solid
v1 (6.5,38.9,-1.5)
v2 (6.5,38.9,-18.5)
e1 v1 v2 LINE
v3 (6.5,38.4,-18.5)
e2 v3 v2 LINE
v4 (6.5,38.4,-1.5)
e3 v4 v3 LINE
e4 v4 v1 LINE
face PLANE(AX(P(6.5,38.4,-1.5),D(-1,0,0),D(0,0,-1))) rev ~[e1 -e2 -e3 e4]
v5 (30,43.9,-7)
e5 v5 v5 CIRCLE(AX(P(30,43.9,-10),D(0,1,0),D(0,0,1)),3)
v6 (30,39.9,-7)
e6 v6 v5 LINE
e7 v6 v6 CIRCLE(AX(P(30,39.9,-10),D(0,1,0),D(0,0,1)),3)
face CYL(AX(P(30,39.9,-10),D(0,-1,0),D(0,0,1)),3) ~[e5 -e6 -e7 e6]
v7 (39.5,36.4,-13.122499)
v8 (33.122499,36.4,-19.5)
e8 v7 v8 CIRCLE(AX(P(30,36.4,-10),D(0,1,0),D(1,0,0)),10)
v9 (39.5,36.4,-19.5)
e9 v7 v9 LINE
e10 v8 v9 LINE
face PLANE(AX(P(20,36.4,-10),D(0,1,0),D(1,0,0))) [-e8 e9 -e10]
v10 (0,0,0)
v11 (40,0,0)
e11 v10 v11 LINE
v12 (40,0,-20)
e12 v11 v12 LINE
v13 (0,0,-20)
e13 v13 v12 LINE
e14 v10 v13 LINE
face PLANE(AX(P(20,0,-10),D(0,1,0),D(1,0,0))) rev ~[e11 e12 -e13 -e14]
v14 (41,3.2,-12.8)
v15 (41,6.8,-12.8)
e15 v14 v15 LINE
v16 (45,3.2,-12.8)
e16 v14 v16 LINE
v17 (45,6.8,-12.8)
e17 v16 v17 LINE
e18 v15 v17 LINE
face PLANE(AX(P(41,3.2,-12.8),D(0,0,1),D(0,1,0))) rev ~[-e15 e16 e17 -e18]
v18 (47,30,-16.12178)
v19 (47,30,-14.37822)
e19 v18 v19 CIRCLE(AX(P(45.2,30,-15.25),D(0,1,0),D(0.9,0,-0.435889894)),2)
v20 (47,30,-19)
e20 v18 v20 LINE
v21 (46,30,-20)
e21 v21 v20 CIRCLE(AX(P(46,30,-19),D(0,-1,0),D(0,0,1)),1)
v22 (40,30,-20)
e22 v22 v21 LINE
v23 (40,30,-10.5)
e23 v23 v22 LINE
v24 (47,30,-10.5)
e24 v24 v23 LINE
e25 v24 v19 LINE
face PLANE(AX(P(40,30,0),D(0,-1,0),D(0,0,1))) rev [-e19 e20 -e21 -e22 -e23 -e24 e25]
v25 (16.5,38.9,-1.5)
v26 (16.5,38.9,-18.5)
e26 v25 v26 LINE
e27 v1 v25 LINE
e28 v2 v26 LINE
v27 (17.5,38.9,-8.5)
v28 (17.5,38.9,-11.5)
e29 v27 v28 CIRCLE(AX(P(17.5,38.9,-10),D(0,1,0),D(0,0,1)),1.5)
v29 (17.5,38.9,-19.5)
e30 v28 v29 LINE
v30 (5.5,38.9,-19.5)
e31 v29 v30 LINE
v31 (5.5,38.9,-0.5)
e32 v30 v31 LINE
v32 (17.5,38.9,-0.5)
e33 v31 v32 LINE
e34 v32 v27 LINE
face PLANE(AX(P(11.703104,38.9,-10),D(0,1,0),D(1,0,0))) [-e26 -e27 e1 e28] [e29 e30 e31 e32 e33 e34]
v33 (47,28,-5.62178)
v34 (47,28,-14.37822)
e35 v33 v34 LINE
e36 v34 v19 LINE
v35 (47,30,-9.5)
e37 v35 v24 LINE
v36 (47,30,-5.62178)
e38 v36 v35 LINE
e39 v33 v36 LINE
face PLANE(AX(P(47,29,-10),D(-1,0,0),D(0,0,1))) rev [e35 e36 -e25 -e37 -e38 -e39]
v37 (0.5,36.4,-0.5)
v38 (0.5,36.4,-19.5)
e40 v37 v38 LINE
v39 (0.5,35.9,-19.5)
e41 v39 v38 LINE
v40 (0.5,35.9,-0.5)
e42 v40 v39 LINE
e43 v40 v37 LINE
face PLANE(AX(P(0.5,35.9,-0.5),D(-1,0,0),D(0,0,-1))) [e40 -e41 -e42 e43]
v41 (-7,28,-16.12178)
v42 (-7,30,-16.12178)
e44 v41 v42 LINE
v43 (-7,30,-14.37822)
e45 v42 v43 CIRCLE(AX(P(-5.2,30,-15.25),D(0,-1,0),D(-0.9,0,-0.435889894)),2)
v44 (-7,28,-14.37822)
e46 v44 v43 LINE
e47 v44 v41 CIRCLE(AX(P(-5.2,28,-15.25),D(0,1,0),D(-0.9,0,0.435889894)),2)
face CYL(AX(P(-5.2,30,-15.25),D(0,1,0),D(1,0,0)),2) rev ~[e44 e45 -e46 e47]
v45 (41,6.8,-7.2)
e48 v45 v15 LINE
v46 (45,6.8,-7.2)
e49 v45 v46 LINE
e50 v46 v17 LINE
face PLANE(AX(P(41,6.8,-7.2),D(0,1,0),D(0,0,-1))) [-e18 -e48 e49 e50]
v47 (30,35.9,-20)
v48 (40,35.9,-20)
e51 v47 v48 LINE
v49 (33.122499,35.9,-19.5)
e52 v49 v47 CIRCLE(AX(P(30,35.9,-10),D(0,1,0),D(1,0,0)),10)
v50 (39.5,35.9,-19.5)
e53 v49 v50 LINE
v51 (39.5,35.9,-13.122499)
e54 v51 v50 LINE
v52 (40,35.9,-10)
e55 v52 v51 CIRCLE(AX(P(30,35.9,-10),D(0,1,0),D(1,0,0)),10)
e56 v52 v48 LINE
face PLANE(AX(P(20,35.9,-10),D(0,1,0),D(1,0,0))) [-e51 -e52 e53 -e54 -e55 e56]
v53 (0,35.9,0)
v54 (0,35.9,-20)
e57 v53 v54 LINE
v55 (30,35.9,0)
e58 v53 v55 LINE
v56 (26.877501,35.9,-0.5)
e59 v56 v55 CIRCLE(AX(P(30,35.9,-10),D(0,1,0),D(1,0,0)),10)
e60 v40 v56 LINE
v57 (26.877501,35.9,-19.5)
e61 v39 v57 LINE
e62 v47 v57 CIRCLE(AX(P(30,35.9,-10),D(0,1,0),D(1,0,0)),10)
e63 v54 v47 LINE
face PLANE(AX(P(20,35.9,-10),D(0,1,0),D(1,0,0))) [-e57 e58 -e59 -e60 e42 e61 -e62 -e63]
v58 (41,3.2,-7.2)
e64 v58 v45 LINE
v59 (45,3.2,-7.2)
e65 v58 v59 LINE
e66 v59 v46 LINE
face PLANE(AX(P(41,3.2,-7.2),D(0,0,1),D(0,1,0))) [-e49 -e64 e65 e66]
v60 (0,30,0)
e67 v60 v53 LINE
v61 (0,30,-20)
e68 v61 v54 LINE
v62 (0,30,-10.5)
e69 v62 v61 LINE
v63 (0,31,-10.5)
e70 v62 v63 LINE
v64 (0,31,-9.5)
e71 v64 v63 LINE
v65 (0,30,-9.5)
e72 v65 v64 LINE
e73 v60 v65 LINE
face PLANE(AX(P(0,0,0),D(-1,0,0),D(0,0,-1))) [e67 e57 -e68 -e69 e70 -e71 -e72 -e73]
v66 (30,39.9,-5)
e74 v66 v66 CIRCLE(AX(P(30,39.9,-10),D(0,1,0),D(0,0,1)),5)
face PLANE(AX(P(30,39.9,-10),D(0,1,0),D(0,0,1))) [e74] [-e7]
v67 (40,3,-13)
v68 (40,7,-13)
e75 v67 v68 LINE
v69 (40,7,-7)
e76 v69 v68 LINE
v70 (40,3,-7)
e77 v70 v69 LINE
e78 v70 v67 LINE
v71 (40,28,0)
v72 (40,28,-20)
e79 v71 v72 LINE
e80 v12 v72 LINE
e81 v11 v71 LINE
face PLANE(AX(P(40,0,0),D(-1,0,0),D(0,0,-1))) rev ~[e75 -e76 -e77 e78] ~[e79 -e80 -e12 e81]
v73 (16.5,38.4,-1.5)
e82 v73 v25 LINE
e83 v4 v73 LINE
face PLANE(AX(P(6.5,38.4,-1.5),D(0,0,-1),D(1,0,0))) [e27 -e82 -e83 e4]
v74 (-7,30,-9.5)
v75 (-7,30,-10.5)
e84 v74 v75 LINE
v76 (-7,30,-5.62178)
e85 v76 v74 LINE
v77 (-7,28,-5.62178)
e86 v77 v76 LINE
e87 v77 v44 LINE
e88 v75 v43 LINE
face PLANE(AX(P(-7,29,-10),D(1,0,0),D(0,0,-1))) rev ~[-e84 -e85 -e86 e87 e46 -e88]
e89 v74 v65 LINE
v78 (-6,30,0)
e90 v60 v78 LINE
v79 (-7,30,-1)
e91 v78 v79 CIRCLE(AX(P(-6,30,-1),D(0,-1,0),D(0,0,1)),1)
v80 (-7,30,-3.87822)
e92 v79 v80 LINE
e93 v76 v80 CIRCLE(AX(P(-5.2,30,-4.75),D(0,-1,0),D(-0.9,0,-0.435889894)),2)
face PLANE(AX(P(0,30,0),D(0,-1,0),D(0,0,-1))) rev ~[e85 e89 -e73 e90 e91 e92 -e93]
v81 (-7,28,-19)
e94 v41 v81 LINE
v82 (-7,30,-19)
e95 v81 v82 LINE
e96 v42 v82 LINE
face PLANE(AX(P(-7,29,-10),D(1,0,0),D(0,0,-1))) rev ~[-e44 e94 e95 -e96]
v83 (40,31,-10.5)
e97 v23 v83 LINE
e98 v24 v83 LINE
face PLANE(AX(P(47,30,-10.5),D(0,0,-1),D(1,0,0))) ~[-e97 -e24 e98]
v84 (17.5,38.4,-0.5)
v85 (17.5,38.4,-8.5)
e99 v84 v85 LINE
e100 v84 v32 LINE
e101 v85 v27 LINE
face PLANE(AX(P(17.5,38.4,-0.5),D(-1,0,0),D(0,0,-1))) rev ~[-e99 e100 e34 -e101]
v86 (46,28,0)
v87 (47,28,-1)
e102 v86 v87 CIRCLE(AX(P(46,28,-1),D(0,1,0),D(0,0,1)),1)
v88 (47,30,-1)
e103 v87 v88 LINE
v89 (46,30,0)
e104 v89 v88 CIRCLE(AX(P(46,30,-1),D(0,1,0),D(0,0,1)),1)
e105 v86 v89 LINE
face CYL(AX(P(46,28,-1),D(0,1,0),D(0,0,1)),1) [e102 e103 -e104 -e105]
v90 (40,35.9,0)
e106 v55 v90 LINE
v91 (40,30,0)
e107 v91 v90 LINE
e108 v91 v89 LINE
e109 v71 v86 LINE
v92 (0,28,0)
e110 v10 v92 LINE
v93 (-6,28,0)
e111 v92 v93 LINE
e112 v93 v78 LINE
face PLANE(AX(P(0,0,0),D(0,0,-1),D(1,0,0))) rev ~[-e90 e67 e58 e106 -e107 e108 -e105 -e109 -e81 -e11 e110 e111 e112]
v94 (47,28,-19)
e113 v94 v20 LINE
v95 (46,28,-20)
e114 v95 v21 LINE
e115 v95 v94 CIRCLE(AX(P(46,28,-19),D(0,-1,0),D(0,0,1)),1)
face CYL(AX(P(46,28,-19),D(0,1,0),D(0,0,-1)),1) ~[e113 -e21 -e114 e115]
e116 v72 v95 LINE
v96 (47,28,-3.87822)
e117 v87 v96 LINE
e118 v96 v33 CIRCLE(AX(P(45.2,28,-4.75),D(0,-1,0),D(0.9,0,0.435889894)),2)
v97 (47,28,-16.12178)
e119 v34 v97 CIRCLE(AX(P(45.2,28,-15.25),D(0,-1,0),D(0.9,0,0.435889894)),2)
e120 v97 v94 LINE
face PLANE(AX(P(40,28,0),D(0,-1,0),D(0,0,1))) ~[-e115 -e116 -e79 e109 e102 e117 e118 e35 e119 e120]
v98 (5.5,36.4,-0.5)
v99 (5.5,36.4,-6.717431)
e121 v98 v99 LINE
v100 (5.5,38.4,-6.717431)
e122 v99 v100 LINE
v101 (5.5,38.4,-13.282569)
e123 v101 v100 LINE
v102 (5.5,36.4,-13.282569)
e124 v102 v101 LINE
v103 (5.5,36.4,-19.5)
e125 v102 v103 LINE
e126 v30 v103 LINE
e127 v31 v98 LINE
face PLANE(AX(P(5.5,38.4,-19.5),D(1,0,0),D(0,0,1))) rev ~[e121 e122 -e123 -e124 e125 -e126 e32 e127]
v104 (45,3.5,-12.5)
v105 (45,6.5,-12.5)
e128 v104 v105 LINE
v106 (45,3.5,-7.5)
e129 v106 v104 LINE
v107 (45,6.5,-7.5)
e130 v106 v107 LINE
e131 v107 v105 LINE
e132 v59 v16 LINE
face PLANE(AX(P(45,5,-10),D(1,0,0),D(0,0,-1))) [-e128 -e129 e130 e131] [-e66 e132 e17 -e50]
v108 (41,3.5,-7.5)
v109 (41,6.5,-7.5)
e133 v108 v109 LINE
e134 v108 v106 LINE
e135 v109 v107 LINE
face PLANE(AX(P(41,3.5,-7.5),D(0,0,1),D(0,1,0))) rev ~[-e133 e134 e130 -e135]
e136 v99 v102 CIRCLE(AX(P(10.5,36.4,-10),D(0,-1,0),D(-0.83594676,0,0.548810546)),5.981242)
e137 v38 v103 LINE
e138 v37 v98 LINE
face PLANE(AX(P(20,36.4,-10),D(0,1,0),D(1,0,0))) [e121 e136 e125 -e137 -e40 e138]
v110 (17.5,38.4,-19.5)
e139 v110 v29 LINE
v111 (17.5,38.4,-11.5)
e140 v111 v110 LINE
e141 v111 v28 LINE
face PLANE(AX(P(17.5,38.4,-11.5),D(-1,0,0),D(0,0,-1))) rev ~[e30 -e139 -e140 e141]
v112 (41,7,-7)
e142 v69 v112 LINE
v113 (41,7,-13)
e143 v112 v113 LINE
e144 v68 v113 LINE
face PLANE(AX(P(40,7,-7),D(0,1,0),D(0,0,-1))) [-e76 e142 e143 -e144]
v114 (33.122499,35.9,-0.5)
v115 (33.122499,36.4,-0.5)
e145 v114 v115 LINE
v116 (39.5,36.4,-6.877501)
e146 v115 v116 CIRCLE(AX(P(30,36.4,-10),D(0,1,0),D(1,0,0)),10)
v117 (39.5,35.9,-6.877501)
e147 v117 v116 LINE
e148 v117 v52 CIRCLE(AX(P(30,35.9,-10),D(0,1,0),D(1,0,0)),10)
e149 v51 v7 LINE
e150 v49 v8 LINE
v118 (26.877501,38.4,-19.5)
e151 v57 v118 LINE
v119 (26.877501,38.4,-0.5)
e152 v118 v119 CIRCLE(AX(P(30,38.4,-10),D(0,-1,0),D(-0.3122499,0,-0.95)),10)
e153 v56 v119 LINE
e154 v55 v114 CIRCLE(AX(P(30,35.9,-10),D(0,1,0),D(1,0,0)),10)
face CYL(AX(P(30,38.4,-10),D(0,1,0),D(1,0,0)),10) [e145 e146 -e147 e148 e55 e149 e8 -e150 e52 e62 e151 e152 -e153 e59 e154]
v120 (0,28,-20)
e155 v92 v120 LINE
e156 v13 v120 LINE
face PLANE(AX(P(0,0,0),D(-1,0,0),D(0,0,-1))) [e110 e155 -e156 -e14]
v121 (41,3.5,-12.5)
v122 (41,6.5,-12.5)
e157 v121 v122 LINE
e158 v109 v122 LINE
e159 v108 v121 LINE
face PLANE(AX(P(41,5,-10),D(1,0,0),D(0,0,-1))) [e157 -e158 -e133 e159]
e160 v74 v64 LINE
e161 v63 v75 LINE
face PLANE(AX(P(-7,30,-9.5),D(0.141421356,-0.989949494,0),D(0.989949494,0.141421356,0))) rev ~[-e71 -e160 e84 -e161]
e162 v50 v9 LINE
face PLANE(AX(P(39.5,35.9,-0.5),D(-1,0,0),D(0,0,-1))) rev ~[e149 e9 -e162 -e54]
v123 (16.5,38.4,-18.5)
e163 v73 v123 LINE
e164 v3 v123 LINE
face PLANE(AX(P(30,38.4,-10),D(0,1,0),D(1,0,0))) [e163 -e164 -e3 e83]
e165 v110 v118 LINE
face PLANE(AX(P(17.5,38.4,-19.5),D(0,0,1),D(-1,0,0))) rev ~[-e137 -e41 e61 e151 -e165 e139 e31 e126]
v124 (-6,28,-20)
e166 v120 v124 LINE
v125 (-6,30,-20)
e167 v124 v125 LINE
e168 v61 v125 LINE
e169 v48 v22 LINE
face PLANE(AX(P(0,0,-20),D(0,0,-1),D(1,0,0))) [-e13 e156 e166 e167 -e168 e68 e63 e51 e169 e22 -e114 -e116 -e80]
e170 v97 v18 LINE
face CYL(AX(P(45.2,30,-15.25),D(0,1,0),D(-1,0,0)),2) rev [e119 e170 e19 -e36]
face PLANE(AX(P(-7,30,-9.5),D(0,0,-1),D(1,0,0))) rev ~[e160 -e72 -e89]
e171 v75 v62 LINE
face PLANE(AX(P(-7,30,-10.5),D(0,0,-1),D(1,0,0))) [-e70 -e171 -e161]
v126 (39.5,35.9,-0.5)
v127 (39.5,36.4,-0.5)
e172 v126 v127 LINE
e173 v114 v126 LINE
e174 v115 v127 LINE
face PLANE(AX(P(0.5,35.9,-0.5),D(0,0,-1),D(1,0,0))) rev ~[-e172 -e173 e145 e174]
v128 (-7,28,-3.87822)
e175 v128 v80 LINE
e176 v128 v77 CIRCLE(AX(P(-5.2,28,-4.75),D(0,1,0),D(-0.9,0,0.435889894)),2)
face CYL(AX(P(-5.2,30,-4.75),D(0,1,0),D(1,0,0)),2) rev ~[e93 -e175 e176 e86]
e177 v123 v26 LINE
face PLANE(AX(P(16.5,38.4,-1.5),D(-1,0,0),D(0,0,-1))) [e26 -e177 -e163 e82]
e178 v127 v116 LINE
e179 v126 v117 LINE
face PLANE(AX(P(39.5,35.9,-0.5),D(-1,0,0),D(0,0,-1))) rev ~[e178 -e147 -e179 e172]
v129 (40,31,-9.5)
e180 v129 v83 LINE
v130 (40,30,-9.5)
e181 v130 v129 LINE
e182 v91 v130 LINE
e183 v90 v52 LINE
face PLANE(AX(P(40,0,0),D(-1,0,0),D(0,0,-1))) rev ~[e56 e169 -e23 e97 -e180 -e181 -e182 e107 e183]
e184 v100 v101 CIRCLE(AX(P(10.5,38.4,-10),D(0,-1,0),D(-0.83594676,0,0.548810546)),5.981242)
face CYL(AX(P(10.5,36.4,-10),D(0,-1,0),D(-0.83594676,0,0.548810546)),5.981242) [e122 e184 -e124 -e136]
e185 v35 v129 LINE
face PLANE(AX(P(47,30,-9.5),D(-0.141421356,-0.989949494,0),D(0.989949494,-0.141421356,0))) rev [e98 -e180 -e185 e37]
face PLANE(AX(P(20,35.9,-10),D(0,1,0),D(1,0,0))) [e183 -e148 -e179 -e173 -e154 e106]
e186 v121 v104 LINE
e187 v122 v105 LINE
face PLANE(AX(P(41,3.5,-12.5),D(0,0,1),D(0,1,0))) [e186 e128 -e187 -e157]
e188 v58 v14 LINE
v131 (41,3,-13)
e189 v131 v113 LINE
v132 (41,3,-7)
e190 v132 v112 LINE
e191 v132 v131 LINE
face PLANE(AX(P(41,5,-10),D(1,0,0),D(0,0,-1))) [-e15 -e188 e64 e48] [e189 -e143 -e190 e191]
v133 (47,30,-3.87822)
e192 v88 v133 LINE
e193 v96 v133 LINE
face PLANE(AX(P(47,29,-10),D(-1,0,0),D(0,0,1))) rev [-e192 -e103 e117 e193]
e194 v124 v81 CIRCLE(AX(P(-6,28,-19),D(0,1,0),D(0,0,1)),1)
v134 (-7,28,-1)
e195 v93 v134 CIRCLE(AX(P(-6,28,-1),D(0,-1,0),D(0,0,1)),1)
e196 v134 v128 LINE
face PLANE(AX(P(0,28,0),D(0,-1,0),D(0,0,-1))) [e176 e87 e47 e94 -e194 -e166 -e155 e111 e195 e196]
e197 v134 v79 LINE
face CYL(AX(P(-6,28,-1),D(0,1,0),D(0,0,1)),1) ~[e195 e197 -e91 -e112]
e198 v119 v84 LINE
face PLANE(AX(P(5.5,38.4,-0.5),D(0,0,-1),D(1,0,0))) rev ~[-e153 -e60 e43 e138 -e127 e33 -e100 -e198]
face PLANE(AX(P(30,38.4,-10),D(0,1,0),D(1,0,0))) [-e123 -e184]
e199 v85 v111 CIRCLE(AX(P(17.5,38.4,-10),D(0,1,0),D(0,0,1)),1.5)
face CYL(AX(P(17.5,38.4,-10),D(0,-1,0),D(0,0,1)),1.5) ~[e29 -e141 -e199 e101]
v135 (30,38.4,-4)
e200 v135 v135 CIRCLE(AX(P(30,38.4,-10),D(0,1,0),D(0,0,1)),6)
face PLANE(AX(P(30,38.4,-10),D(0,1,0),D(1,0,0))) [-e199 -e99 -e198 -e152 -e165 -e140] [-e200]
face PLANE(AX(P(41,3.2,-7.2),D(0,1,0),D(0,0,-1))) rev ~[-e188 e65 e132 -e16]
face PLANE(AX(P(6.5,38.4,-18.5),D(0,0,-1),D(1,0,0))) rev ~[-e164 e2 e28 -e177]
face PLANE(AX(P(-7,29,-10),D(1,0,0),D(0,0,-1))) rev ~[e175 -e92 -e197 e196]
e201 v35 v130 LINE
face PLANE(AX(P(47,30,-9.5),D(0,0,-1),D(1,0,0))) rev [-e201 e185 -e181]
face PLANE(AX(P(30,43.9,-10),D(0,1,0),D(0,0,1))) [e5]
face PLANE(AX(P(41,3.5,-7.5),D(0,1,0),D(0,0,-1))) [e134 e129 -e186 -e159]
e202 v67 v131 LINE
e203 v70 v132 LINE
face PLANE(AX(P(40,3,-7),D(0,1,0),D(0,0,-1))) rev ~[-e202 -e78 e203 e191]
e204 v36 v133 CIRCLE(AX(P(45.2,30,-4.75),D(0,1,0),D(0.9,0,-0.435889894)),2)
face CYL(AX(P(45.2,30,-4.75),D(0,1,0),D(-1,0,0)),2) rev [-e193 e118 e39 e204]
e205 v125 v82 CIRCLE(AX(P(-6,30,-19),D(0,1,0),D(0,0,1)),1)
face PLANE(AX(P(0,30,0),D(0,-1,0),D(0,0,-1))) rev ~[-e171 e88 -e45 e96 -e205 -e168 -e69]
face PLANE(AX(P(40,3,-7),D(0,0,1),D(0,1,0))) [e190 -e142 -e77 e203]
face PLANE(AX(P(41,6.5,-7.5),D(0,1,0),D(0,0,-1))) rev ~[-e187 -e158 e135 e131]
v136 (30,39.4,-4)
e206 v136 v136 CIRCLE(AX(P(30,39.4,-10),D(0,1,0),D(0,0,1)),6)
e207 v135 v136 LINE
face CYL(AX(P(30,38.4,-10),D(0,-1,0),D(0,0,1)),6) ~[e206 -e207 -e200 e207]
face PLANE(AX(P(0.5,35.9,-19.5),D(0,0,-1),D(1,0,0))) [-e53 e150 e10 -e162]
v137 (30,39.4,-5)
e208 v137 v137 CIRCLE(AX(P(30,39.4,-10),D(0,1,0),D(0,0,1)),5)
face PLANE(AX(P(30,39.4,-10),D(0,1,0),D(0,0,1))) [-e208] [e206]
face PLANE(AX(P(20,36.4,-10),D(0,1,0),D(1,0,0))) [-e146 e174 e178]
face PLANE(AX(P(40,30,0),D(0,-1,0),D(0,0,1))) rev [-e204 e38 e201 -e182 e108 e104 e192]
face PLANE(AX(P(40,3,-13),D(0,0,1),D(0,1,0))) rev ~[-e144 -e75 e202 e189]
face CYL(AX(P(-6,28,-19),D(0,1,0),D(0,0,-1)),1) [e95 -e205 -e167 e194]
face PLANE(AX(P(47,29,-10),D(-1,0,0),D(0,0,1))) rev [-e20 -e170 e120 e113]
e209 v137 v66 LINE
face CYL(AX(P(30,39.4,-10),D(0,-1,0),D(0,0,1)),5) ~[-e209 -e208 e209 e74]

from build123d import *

# Parameters (mm, degrees)
SKETCH1_W            = 40
SKETCH1_H            = 20
BOSS_EXTRUDE1_DEPTH  = 35.9
SKETCH2_W            = 20
SKETCH2_H            = 2
BOSS_EXTRUDE2_DEPTH  = 7
SKETCH3_W            = 7
SKETCH3_H            = 1
BOSS_EXTRUDE3_DEPTH  = 1
CUT_EXTRUDE1_REACH   = 55.852
SKETCH4_R            = 2
FILLET1_R            = 1
CUT_EXTRUDE2_DEPTH   = 11
FILLET1_OF_MIRROR1_R = 1
SKETCH6_W            = 39
SKETCH6_H            = 19
BOSS_EXTRUDE4_DEPTH  = 0.5
BOSS_EXTRUDE5_DEPTH  = 2
SKETCH8_R            = 10
BOSS_EXTRUDE6_DEPTH  = 2.5
SKETCH9_R            = 6
BOSS_EXTRUDE7_DEPTH  = 1
SKETCH10_R           = 5
BOSS_EXTRUDE8_DEPTH  = 0.5
SKETCH11_W           = 10
SKETCH11_H           = 17
BOSS_EXTRUDE9_DEPTH  = 0.5
SKETCH12_R           = 3
BOSS_EXTRUDE10_DEPTH = 4
SKETCH13_W           = 6
SKETCH13_H           = 4
BOSS_EXTRUDE11_DEPTH = 1
SKETCH14_W           = 5.6
SKETCH14_H           = 3.6
SKETCH14_W_2         = 5
SKETCH14_H_2         = 3
BOSS_EXTRUDE12_DEPTH = 4


with BuildPart() as part:
    # Sketch1 → Boss-Extrude1 (new body)
    with BuildSketch(Plane(origin=(0, 0, 0), x_dir=(1, 0, 0), z_dir=(0, 1, 0))):
        with Locations((20, 10)):
            Rectangle(SKETCH1_W, SKETCH1_H)
    extrude(amount=BOSS_EXTRUDE1_DEPTH)

    # Sketch2 → Boss-Extrude2 (add)
    with BuildSketch(Plane(origin=(0, 0, 0), x_dir=(0, 0, -1), z_dir=(1, 0, 0))):
        with Locations((10, 29)):
            Rectangle(SKETCH2_W, SKETCH2_H)
    boss_extrude2 = extrude(amount=-BOSS_EXTRUDE2_DEPTH)

    # Sketch3 → Boss-Extrude3 (add)
    with BuildSketch(Plane(origin=(0, 30, 0), x_dir=(1, 0, 0), z_dir=(0, 1, 0))):
        with Locations((-3.5, 10)):
            Rectangle(SKETCH3_W, SKETCH3_H)
    boss_extrude3 = extrude(amount=BOSS_EXTRUDE3_DEPTH)

    # Sketch4 → Cut-Extrude1 (cut, up to next)
    with BuildSketch(Plane(origin=(0, 30, 0), x_dir=(1, 0, 0), z_dir=(0, 1, 0)), mode=Mode.PRIVATE) as cut_extrude1_sk1:
        with Locations((-5.2, 15.25)):
            Circle(SKETCH4_R)
    cut_extrude1_tool1 = extrude(cut_extrude1_sk1.sketch, amount=-CUT_EXTRUDE1_REACH, mode=Mode.PRIVATE) & part.part
    # Sketch4 → Cut-Extrude1 (cut, up to next)
    with BuildSketch(Plane(origin=(0, 30, 0), x_dir=(1, 0, 0), z_dir=(0, 1, 0)), mode=Mode.PRIVATE) as cut_extrude1_sk2:
        with Locations((-5.2, 4.75)):
            Circle(SKETCH4_R)
    cut_extrude1_tool2 = extrude(cut_extrude1_sk2.sketch, amount=-CUT_EXTRUDE1_REACH, mode=Mode.PRIVATE) & part.part
    cut_extrude1_1 = cut_extrude1_tool1.solids().sort_by_distance((-5.2, 30, -15.25))[0]
    add(cut_extrude1_1, mode=Mode.SUBTRACT)
    cut_extrude1_2 = cut_extrude1_tool2.solids().sort_by_distance((-5.2, 30, -4.75))[0]
    add(cut_extrude1_2, mode=Mode.SUBTRACT)
    cut_extrude1 = cut_extrude1_1 + cut_extrude1_2  # Cut-Extrude1 as one shape, for the pattern or mirror that repeats it

    # Fillet1
    fillet1_edges = [part.edges().sort_by_distance(p)[0] for p in [
        (-7, 29, 0),
        (-7, 29, -20),
    ]]
    fillet(fillet1_edges, radius=FILLET1_R)

    # Sketch5 → Cut-Extrude2 (cut)
    with BuildSketch(Plane.XY.offset(-9.5)):
        Polygon((-7, 30), (0, 31), (-7, 31), align=None)
    cut_extrude2 = extrude(amount=-CUT_EXTRUDE2_DEPTH, mode=Mode.SUBTRACT)

    # Mirror1: Boss-Extrude2, Boss-Extrude3, Cut-Extrude1, Cut-Extrude2 across plane
    add(boss_extrude2.mirror(Plane(origin=(20, 0, 0), x_dir=(0, 0, 1), z_dir=(1, 0, 0))))
    add(boss_extrude3.mirror(Plane(origin=(20, 0, 0), x_dir=(0, 0, 1), z_dir=(1, 0, 0))))
    add(cut_extrude1.mirror(Plane(origin=(20, 0, 0), x_dir=(0, 0, 1), z_dir=(1, 0, 0))), mode=Mode.SUBTRACT)
    add(cut_extrude2.mirror(Plane(origin=(20, 0, 0), x_dir=(0, 0, 1), z_dir=(1, 0, 0))), mode=Mode.SUBTRACT)

    # Fillet1 of Mirror1
    fillet1_of_mirror1_edges = [part.edges().sort_by_distance(p)[0] for p in [
        (47, 29, 0),
        (47, 29, -20),
    ]]
    fillet(fillet1_of_mirror1_edges, radius=FILLET1_OF_MIRROR1_R)

    # Sketch6 → Boss-Extrude4 (add)
    with BuildSketch(Plane(origin=(0, 35.9, 0), x_dir=(1, 0, 0), z_dir=(0, 1, 0))):
        with Locations((20, 10)):
            Rectangle(SKETCH6_W, SKETCH6_H)
    extrude(amount=BOSS_EXTRUDE4_DEPTH)

    # Sketch7 → Boss-Extrude5 (add)
    with BuildSketch(Plane(origin=(0, 36.4, 0), x_dir=(1, 0, 0), z_dir=(0, 1, 0))):
        with BuildLine():
            Line((5.5, 19.5), (30.5, 19.5))
            Line((30.5, 19.5), (30.5, 0.5))
            Line((30.5, 0.5), (5.5, 0.5))
            Line((5.5, 0.5), (5.5, 6.717431229))
            ThreePointArc((5.5, 6.717431229), (4.518757843, 10), (5.5, 13.282568771))
            Line((5.5, 13.282568771), (5.5, 19.5))
        make_face()
    extrude(amount=BOSS_EXTRUDE5_DEPTH)

    # Sketch8 → Boss-Extrude6 (add)
    with BuildSketch(Plane(origin=(0, 38.4, 0), x_dir=(1, 0, 0), z_dir=(0, 1, 0))):
        with Locations((30, 10)):
            Circle(SKETCH8_R)
    extrude(amount=-BOSS_EXTRUDE6_DEPTH)

    # Sketch9 → Boss-Extrude7 (add)
    with BuildSketch(Plane(origin=(0, 38.4, 0), x_dir=(1, 0, 0), z_dir=(0, 1, 0))):
        with Locations(Location((30, 10, 0), (0, 0, 270))):
            Circle(SKETCH9_R)
    extrude(amount=BOSS_EXTRUDE7_DEPTH)

    # Sketch10 → Boss-Extrude8 (add)
    with BuildSketch(Plane(origin=(0, 39.4, 0), x_dir=(1, 0, 0), z_dir=(0, 1, 0))):
        with Locations(Location((30, 10, 0), (0, 0, 270))):
            Circle(SKETCH10_R)
    extrude(amount=BOSS_EXTRUDE8_DEPTH)

    # Sketch11 → Boss-Extrude9 (add)
    with BuildSketch(Plane(origin=(0, 38.4, 0), x_dir=(1, 0, 0), z_dir=(0, 1, 0))):
        with BuildLine():
            Line((5.5, 0.5), (17.5, 0.5))
            Line((17.5, 0.5), (17.5, 8.5))
            ThreePointArc((17.5, 8.5), (19, 10), (17.5, 11.5))
            Line((17.5, 11.5), (17.5, 19.5))
            Line((17.5, 19.5), (5.5, 19.5))
            Line((5.5, 19.5), (5.5, 0.5))
        make_face()
        with Locations((11.5, 10)):
            Rectangle(SKETCH11_W, SKETCH11_H, mode=Mode.SUBTRACT)
    extrude(amount=BOSS_EXTRUDE9_DEPTH)

    # Sketch12 → Boss-Extrude10 (add)
    with BuildSketch(Plane(origin=(0, 39.9, 0), x_dir=(1, 0, 0), z_dir=(0, 1, 0))):
        with Locations(Location((30, 10, 0), (0, 0, 270))):
            Circle(SKETCH12_R)
    extrude(amount=BOSS_EXTRUDE10_DEPTH)

    # Sketch13 → Boss-Extrude11 (add)
    with BuildSketch(Plane(origin=(40, 0, 0), x_dir=(0, 0, -1), z_dir=(1, 0, 0))):
        with Locations((10, 5)):
            Rectangle(SKETCH13_W, SKETCH13_H)
    extrude(amount=BOSS_EXTRUDE11_DEPTH)

    # Sketch14 → Boss-Extrude12 (add)
    with BuildSketch(Plane(origin=(41, 0, 0), x_dir=(0, 0, -1), z_dir=(1, 0, 0))):
        with Locations((10, 5)):
            Rectangle(SKETCH14_W, SKETCH14_H)
        with Locations((10, 5)):
            Rectangle(SKETCH14_W_2, SKETCH14_H_2, mode=Mode.SUBTRACT)
    extrude(amount=BOSS_EXTRUDE12_DEPTH)


solid = part.part
